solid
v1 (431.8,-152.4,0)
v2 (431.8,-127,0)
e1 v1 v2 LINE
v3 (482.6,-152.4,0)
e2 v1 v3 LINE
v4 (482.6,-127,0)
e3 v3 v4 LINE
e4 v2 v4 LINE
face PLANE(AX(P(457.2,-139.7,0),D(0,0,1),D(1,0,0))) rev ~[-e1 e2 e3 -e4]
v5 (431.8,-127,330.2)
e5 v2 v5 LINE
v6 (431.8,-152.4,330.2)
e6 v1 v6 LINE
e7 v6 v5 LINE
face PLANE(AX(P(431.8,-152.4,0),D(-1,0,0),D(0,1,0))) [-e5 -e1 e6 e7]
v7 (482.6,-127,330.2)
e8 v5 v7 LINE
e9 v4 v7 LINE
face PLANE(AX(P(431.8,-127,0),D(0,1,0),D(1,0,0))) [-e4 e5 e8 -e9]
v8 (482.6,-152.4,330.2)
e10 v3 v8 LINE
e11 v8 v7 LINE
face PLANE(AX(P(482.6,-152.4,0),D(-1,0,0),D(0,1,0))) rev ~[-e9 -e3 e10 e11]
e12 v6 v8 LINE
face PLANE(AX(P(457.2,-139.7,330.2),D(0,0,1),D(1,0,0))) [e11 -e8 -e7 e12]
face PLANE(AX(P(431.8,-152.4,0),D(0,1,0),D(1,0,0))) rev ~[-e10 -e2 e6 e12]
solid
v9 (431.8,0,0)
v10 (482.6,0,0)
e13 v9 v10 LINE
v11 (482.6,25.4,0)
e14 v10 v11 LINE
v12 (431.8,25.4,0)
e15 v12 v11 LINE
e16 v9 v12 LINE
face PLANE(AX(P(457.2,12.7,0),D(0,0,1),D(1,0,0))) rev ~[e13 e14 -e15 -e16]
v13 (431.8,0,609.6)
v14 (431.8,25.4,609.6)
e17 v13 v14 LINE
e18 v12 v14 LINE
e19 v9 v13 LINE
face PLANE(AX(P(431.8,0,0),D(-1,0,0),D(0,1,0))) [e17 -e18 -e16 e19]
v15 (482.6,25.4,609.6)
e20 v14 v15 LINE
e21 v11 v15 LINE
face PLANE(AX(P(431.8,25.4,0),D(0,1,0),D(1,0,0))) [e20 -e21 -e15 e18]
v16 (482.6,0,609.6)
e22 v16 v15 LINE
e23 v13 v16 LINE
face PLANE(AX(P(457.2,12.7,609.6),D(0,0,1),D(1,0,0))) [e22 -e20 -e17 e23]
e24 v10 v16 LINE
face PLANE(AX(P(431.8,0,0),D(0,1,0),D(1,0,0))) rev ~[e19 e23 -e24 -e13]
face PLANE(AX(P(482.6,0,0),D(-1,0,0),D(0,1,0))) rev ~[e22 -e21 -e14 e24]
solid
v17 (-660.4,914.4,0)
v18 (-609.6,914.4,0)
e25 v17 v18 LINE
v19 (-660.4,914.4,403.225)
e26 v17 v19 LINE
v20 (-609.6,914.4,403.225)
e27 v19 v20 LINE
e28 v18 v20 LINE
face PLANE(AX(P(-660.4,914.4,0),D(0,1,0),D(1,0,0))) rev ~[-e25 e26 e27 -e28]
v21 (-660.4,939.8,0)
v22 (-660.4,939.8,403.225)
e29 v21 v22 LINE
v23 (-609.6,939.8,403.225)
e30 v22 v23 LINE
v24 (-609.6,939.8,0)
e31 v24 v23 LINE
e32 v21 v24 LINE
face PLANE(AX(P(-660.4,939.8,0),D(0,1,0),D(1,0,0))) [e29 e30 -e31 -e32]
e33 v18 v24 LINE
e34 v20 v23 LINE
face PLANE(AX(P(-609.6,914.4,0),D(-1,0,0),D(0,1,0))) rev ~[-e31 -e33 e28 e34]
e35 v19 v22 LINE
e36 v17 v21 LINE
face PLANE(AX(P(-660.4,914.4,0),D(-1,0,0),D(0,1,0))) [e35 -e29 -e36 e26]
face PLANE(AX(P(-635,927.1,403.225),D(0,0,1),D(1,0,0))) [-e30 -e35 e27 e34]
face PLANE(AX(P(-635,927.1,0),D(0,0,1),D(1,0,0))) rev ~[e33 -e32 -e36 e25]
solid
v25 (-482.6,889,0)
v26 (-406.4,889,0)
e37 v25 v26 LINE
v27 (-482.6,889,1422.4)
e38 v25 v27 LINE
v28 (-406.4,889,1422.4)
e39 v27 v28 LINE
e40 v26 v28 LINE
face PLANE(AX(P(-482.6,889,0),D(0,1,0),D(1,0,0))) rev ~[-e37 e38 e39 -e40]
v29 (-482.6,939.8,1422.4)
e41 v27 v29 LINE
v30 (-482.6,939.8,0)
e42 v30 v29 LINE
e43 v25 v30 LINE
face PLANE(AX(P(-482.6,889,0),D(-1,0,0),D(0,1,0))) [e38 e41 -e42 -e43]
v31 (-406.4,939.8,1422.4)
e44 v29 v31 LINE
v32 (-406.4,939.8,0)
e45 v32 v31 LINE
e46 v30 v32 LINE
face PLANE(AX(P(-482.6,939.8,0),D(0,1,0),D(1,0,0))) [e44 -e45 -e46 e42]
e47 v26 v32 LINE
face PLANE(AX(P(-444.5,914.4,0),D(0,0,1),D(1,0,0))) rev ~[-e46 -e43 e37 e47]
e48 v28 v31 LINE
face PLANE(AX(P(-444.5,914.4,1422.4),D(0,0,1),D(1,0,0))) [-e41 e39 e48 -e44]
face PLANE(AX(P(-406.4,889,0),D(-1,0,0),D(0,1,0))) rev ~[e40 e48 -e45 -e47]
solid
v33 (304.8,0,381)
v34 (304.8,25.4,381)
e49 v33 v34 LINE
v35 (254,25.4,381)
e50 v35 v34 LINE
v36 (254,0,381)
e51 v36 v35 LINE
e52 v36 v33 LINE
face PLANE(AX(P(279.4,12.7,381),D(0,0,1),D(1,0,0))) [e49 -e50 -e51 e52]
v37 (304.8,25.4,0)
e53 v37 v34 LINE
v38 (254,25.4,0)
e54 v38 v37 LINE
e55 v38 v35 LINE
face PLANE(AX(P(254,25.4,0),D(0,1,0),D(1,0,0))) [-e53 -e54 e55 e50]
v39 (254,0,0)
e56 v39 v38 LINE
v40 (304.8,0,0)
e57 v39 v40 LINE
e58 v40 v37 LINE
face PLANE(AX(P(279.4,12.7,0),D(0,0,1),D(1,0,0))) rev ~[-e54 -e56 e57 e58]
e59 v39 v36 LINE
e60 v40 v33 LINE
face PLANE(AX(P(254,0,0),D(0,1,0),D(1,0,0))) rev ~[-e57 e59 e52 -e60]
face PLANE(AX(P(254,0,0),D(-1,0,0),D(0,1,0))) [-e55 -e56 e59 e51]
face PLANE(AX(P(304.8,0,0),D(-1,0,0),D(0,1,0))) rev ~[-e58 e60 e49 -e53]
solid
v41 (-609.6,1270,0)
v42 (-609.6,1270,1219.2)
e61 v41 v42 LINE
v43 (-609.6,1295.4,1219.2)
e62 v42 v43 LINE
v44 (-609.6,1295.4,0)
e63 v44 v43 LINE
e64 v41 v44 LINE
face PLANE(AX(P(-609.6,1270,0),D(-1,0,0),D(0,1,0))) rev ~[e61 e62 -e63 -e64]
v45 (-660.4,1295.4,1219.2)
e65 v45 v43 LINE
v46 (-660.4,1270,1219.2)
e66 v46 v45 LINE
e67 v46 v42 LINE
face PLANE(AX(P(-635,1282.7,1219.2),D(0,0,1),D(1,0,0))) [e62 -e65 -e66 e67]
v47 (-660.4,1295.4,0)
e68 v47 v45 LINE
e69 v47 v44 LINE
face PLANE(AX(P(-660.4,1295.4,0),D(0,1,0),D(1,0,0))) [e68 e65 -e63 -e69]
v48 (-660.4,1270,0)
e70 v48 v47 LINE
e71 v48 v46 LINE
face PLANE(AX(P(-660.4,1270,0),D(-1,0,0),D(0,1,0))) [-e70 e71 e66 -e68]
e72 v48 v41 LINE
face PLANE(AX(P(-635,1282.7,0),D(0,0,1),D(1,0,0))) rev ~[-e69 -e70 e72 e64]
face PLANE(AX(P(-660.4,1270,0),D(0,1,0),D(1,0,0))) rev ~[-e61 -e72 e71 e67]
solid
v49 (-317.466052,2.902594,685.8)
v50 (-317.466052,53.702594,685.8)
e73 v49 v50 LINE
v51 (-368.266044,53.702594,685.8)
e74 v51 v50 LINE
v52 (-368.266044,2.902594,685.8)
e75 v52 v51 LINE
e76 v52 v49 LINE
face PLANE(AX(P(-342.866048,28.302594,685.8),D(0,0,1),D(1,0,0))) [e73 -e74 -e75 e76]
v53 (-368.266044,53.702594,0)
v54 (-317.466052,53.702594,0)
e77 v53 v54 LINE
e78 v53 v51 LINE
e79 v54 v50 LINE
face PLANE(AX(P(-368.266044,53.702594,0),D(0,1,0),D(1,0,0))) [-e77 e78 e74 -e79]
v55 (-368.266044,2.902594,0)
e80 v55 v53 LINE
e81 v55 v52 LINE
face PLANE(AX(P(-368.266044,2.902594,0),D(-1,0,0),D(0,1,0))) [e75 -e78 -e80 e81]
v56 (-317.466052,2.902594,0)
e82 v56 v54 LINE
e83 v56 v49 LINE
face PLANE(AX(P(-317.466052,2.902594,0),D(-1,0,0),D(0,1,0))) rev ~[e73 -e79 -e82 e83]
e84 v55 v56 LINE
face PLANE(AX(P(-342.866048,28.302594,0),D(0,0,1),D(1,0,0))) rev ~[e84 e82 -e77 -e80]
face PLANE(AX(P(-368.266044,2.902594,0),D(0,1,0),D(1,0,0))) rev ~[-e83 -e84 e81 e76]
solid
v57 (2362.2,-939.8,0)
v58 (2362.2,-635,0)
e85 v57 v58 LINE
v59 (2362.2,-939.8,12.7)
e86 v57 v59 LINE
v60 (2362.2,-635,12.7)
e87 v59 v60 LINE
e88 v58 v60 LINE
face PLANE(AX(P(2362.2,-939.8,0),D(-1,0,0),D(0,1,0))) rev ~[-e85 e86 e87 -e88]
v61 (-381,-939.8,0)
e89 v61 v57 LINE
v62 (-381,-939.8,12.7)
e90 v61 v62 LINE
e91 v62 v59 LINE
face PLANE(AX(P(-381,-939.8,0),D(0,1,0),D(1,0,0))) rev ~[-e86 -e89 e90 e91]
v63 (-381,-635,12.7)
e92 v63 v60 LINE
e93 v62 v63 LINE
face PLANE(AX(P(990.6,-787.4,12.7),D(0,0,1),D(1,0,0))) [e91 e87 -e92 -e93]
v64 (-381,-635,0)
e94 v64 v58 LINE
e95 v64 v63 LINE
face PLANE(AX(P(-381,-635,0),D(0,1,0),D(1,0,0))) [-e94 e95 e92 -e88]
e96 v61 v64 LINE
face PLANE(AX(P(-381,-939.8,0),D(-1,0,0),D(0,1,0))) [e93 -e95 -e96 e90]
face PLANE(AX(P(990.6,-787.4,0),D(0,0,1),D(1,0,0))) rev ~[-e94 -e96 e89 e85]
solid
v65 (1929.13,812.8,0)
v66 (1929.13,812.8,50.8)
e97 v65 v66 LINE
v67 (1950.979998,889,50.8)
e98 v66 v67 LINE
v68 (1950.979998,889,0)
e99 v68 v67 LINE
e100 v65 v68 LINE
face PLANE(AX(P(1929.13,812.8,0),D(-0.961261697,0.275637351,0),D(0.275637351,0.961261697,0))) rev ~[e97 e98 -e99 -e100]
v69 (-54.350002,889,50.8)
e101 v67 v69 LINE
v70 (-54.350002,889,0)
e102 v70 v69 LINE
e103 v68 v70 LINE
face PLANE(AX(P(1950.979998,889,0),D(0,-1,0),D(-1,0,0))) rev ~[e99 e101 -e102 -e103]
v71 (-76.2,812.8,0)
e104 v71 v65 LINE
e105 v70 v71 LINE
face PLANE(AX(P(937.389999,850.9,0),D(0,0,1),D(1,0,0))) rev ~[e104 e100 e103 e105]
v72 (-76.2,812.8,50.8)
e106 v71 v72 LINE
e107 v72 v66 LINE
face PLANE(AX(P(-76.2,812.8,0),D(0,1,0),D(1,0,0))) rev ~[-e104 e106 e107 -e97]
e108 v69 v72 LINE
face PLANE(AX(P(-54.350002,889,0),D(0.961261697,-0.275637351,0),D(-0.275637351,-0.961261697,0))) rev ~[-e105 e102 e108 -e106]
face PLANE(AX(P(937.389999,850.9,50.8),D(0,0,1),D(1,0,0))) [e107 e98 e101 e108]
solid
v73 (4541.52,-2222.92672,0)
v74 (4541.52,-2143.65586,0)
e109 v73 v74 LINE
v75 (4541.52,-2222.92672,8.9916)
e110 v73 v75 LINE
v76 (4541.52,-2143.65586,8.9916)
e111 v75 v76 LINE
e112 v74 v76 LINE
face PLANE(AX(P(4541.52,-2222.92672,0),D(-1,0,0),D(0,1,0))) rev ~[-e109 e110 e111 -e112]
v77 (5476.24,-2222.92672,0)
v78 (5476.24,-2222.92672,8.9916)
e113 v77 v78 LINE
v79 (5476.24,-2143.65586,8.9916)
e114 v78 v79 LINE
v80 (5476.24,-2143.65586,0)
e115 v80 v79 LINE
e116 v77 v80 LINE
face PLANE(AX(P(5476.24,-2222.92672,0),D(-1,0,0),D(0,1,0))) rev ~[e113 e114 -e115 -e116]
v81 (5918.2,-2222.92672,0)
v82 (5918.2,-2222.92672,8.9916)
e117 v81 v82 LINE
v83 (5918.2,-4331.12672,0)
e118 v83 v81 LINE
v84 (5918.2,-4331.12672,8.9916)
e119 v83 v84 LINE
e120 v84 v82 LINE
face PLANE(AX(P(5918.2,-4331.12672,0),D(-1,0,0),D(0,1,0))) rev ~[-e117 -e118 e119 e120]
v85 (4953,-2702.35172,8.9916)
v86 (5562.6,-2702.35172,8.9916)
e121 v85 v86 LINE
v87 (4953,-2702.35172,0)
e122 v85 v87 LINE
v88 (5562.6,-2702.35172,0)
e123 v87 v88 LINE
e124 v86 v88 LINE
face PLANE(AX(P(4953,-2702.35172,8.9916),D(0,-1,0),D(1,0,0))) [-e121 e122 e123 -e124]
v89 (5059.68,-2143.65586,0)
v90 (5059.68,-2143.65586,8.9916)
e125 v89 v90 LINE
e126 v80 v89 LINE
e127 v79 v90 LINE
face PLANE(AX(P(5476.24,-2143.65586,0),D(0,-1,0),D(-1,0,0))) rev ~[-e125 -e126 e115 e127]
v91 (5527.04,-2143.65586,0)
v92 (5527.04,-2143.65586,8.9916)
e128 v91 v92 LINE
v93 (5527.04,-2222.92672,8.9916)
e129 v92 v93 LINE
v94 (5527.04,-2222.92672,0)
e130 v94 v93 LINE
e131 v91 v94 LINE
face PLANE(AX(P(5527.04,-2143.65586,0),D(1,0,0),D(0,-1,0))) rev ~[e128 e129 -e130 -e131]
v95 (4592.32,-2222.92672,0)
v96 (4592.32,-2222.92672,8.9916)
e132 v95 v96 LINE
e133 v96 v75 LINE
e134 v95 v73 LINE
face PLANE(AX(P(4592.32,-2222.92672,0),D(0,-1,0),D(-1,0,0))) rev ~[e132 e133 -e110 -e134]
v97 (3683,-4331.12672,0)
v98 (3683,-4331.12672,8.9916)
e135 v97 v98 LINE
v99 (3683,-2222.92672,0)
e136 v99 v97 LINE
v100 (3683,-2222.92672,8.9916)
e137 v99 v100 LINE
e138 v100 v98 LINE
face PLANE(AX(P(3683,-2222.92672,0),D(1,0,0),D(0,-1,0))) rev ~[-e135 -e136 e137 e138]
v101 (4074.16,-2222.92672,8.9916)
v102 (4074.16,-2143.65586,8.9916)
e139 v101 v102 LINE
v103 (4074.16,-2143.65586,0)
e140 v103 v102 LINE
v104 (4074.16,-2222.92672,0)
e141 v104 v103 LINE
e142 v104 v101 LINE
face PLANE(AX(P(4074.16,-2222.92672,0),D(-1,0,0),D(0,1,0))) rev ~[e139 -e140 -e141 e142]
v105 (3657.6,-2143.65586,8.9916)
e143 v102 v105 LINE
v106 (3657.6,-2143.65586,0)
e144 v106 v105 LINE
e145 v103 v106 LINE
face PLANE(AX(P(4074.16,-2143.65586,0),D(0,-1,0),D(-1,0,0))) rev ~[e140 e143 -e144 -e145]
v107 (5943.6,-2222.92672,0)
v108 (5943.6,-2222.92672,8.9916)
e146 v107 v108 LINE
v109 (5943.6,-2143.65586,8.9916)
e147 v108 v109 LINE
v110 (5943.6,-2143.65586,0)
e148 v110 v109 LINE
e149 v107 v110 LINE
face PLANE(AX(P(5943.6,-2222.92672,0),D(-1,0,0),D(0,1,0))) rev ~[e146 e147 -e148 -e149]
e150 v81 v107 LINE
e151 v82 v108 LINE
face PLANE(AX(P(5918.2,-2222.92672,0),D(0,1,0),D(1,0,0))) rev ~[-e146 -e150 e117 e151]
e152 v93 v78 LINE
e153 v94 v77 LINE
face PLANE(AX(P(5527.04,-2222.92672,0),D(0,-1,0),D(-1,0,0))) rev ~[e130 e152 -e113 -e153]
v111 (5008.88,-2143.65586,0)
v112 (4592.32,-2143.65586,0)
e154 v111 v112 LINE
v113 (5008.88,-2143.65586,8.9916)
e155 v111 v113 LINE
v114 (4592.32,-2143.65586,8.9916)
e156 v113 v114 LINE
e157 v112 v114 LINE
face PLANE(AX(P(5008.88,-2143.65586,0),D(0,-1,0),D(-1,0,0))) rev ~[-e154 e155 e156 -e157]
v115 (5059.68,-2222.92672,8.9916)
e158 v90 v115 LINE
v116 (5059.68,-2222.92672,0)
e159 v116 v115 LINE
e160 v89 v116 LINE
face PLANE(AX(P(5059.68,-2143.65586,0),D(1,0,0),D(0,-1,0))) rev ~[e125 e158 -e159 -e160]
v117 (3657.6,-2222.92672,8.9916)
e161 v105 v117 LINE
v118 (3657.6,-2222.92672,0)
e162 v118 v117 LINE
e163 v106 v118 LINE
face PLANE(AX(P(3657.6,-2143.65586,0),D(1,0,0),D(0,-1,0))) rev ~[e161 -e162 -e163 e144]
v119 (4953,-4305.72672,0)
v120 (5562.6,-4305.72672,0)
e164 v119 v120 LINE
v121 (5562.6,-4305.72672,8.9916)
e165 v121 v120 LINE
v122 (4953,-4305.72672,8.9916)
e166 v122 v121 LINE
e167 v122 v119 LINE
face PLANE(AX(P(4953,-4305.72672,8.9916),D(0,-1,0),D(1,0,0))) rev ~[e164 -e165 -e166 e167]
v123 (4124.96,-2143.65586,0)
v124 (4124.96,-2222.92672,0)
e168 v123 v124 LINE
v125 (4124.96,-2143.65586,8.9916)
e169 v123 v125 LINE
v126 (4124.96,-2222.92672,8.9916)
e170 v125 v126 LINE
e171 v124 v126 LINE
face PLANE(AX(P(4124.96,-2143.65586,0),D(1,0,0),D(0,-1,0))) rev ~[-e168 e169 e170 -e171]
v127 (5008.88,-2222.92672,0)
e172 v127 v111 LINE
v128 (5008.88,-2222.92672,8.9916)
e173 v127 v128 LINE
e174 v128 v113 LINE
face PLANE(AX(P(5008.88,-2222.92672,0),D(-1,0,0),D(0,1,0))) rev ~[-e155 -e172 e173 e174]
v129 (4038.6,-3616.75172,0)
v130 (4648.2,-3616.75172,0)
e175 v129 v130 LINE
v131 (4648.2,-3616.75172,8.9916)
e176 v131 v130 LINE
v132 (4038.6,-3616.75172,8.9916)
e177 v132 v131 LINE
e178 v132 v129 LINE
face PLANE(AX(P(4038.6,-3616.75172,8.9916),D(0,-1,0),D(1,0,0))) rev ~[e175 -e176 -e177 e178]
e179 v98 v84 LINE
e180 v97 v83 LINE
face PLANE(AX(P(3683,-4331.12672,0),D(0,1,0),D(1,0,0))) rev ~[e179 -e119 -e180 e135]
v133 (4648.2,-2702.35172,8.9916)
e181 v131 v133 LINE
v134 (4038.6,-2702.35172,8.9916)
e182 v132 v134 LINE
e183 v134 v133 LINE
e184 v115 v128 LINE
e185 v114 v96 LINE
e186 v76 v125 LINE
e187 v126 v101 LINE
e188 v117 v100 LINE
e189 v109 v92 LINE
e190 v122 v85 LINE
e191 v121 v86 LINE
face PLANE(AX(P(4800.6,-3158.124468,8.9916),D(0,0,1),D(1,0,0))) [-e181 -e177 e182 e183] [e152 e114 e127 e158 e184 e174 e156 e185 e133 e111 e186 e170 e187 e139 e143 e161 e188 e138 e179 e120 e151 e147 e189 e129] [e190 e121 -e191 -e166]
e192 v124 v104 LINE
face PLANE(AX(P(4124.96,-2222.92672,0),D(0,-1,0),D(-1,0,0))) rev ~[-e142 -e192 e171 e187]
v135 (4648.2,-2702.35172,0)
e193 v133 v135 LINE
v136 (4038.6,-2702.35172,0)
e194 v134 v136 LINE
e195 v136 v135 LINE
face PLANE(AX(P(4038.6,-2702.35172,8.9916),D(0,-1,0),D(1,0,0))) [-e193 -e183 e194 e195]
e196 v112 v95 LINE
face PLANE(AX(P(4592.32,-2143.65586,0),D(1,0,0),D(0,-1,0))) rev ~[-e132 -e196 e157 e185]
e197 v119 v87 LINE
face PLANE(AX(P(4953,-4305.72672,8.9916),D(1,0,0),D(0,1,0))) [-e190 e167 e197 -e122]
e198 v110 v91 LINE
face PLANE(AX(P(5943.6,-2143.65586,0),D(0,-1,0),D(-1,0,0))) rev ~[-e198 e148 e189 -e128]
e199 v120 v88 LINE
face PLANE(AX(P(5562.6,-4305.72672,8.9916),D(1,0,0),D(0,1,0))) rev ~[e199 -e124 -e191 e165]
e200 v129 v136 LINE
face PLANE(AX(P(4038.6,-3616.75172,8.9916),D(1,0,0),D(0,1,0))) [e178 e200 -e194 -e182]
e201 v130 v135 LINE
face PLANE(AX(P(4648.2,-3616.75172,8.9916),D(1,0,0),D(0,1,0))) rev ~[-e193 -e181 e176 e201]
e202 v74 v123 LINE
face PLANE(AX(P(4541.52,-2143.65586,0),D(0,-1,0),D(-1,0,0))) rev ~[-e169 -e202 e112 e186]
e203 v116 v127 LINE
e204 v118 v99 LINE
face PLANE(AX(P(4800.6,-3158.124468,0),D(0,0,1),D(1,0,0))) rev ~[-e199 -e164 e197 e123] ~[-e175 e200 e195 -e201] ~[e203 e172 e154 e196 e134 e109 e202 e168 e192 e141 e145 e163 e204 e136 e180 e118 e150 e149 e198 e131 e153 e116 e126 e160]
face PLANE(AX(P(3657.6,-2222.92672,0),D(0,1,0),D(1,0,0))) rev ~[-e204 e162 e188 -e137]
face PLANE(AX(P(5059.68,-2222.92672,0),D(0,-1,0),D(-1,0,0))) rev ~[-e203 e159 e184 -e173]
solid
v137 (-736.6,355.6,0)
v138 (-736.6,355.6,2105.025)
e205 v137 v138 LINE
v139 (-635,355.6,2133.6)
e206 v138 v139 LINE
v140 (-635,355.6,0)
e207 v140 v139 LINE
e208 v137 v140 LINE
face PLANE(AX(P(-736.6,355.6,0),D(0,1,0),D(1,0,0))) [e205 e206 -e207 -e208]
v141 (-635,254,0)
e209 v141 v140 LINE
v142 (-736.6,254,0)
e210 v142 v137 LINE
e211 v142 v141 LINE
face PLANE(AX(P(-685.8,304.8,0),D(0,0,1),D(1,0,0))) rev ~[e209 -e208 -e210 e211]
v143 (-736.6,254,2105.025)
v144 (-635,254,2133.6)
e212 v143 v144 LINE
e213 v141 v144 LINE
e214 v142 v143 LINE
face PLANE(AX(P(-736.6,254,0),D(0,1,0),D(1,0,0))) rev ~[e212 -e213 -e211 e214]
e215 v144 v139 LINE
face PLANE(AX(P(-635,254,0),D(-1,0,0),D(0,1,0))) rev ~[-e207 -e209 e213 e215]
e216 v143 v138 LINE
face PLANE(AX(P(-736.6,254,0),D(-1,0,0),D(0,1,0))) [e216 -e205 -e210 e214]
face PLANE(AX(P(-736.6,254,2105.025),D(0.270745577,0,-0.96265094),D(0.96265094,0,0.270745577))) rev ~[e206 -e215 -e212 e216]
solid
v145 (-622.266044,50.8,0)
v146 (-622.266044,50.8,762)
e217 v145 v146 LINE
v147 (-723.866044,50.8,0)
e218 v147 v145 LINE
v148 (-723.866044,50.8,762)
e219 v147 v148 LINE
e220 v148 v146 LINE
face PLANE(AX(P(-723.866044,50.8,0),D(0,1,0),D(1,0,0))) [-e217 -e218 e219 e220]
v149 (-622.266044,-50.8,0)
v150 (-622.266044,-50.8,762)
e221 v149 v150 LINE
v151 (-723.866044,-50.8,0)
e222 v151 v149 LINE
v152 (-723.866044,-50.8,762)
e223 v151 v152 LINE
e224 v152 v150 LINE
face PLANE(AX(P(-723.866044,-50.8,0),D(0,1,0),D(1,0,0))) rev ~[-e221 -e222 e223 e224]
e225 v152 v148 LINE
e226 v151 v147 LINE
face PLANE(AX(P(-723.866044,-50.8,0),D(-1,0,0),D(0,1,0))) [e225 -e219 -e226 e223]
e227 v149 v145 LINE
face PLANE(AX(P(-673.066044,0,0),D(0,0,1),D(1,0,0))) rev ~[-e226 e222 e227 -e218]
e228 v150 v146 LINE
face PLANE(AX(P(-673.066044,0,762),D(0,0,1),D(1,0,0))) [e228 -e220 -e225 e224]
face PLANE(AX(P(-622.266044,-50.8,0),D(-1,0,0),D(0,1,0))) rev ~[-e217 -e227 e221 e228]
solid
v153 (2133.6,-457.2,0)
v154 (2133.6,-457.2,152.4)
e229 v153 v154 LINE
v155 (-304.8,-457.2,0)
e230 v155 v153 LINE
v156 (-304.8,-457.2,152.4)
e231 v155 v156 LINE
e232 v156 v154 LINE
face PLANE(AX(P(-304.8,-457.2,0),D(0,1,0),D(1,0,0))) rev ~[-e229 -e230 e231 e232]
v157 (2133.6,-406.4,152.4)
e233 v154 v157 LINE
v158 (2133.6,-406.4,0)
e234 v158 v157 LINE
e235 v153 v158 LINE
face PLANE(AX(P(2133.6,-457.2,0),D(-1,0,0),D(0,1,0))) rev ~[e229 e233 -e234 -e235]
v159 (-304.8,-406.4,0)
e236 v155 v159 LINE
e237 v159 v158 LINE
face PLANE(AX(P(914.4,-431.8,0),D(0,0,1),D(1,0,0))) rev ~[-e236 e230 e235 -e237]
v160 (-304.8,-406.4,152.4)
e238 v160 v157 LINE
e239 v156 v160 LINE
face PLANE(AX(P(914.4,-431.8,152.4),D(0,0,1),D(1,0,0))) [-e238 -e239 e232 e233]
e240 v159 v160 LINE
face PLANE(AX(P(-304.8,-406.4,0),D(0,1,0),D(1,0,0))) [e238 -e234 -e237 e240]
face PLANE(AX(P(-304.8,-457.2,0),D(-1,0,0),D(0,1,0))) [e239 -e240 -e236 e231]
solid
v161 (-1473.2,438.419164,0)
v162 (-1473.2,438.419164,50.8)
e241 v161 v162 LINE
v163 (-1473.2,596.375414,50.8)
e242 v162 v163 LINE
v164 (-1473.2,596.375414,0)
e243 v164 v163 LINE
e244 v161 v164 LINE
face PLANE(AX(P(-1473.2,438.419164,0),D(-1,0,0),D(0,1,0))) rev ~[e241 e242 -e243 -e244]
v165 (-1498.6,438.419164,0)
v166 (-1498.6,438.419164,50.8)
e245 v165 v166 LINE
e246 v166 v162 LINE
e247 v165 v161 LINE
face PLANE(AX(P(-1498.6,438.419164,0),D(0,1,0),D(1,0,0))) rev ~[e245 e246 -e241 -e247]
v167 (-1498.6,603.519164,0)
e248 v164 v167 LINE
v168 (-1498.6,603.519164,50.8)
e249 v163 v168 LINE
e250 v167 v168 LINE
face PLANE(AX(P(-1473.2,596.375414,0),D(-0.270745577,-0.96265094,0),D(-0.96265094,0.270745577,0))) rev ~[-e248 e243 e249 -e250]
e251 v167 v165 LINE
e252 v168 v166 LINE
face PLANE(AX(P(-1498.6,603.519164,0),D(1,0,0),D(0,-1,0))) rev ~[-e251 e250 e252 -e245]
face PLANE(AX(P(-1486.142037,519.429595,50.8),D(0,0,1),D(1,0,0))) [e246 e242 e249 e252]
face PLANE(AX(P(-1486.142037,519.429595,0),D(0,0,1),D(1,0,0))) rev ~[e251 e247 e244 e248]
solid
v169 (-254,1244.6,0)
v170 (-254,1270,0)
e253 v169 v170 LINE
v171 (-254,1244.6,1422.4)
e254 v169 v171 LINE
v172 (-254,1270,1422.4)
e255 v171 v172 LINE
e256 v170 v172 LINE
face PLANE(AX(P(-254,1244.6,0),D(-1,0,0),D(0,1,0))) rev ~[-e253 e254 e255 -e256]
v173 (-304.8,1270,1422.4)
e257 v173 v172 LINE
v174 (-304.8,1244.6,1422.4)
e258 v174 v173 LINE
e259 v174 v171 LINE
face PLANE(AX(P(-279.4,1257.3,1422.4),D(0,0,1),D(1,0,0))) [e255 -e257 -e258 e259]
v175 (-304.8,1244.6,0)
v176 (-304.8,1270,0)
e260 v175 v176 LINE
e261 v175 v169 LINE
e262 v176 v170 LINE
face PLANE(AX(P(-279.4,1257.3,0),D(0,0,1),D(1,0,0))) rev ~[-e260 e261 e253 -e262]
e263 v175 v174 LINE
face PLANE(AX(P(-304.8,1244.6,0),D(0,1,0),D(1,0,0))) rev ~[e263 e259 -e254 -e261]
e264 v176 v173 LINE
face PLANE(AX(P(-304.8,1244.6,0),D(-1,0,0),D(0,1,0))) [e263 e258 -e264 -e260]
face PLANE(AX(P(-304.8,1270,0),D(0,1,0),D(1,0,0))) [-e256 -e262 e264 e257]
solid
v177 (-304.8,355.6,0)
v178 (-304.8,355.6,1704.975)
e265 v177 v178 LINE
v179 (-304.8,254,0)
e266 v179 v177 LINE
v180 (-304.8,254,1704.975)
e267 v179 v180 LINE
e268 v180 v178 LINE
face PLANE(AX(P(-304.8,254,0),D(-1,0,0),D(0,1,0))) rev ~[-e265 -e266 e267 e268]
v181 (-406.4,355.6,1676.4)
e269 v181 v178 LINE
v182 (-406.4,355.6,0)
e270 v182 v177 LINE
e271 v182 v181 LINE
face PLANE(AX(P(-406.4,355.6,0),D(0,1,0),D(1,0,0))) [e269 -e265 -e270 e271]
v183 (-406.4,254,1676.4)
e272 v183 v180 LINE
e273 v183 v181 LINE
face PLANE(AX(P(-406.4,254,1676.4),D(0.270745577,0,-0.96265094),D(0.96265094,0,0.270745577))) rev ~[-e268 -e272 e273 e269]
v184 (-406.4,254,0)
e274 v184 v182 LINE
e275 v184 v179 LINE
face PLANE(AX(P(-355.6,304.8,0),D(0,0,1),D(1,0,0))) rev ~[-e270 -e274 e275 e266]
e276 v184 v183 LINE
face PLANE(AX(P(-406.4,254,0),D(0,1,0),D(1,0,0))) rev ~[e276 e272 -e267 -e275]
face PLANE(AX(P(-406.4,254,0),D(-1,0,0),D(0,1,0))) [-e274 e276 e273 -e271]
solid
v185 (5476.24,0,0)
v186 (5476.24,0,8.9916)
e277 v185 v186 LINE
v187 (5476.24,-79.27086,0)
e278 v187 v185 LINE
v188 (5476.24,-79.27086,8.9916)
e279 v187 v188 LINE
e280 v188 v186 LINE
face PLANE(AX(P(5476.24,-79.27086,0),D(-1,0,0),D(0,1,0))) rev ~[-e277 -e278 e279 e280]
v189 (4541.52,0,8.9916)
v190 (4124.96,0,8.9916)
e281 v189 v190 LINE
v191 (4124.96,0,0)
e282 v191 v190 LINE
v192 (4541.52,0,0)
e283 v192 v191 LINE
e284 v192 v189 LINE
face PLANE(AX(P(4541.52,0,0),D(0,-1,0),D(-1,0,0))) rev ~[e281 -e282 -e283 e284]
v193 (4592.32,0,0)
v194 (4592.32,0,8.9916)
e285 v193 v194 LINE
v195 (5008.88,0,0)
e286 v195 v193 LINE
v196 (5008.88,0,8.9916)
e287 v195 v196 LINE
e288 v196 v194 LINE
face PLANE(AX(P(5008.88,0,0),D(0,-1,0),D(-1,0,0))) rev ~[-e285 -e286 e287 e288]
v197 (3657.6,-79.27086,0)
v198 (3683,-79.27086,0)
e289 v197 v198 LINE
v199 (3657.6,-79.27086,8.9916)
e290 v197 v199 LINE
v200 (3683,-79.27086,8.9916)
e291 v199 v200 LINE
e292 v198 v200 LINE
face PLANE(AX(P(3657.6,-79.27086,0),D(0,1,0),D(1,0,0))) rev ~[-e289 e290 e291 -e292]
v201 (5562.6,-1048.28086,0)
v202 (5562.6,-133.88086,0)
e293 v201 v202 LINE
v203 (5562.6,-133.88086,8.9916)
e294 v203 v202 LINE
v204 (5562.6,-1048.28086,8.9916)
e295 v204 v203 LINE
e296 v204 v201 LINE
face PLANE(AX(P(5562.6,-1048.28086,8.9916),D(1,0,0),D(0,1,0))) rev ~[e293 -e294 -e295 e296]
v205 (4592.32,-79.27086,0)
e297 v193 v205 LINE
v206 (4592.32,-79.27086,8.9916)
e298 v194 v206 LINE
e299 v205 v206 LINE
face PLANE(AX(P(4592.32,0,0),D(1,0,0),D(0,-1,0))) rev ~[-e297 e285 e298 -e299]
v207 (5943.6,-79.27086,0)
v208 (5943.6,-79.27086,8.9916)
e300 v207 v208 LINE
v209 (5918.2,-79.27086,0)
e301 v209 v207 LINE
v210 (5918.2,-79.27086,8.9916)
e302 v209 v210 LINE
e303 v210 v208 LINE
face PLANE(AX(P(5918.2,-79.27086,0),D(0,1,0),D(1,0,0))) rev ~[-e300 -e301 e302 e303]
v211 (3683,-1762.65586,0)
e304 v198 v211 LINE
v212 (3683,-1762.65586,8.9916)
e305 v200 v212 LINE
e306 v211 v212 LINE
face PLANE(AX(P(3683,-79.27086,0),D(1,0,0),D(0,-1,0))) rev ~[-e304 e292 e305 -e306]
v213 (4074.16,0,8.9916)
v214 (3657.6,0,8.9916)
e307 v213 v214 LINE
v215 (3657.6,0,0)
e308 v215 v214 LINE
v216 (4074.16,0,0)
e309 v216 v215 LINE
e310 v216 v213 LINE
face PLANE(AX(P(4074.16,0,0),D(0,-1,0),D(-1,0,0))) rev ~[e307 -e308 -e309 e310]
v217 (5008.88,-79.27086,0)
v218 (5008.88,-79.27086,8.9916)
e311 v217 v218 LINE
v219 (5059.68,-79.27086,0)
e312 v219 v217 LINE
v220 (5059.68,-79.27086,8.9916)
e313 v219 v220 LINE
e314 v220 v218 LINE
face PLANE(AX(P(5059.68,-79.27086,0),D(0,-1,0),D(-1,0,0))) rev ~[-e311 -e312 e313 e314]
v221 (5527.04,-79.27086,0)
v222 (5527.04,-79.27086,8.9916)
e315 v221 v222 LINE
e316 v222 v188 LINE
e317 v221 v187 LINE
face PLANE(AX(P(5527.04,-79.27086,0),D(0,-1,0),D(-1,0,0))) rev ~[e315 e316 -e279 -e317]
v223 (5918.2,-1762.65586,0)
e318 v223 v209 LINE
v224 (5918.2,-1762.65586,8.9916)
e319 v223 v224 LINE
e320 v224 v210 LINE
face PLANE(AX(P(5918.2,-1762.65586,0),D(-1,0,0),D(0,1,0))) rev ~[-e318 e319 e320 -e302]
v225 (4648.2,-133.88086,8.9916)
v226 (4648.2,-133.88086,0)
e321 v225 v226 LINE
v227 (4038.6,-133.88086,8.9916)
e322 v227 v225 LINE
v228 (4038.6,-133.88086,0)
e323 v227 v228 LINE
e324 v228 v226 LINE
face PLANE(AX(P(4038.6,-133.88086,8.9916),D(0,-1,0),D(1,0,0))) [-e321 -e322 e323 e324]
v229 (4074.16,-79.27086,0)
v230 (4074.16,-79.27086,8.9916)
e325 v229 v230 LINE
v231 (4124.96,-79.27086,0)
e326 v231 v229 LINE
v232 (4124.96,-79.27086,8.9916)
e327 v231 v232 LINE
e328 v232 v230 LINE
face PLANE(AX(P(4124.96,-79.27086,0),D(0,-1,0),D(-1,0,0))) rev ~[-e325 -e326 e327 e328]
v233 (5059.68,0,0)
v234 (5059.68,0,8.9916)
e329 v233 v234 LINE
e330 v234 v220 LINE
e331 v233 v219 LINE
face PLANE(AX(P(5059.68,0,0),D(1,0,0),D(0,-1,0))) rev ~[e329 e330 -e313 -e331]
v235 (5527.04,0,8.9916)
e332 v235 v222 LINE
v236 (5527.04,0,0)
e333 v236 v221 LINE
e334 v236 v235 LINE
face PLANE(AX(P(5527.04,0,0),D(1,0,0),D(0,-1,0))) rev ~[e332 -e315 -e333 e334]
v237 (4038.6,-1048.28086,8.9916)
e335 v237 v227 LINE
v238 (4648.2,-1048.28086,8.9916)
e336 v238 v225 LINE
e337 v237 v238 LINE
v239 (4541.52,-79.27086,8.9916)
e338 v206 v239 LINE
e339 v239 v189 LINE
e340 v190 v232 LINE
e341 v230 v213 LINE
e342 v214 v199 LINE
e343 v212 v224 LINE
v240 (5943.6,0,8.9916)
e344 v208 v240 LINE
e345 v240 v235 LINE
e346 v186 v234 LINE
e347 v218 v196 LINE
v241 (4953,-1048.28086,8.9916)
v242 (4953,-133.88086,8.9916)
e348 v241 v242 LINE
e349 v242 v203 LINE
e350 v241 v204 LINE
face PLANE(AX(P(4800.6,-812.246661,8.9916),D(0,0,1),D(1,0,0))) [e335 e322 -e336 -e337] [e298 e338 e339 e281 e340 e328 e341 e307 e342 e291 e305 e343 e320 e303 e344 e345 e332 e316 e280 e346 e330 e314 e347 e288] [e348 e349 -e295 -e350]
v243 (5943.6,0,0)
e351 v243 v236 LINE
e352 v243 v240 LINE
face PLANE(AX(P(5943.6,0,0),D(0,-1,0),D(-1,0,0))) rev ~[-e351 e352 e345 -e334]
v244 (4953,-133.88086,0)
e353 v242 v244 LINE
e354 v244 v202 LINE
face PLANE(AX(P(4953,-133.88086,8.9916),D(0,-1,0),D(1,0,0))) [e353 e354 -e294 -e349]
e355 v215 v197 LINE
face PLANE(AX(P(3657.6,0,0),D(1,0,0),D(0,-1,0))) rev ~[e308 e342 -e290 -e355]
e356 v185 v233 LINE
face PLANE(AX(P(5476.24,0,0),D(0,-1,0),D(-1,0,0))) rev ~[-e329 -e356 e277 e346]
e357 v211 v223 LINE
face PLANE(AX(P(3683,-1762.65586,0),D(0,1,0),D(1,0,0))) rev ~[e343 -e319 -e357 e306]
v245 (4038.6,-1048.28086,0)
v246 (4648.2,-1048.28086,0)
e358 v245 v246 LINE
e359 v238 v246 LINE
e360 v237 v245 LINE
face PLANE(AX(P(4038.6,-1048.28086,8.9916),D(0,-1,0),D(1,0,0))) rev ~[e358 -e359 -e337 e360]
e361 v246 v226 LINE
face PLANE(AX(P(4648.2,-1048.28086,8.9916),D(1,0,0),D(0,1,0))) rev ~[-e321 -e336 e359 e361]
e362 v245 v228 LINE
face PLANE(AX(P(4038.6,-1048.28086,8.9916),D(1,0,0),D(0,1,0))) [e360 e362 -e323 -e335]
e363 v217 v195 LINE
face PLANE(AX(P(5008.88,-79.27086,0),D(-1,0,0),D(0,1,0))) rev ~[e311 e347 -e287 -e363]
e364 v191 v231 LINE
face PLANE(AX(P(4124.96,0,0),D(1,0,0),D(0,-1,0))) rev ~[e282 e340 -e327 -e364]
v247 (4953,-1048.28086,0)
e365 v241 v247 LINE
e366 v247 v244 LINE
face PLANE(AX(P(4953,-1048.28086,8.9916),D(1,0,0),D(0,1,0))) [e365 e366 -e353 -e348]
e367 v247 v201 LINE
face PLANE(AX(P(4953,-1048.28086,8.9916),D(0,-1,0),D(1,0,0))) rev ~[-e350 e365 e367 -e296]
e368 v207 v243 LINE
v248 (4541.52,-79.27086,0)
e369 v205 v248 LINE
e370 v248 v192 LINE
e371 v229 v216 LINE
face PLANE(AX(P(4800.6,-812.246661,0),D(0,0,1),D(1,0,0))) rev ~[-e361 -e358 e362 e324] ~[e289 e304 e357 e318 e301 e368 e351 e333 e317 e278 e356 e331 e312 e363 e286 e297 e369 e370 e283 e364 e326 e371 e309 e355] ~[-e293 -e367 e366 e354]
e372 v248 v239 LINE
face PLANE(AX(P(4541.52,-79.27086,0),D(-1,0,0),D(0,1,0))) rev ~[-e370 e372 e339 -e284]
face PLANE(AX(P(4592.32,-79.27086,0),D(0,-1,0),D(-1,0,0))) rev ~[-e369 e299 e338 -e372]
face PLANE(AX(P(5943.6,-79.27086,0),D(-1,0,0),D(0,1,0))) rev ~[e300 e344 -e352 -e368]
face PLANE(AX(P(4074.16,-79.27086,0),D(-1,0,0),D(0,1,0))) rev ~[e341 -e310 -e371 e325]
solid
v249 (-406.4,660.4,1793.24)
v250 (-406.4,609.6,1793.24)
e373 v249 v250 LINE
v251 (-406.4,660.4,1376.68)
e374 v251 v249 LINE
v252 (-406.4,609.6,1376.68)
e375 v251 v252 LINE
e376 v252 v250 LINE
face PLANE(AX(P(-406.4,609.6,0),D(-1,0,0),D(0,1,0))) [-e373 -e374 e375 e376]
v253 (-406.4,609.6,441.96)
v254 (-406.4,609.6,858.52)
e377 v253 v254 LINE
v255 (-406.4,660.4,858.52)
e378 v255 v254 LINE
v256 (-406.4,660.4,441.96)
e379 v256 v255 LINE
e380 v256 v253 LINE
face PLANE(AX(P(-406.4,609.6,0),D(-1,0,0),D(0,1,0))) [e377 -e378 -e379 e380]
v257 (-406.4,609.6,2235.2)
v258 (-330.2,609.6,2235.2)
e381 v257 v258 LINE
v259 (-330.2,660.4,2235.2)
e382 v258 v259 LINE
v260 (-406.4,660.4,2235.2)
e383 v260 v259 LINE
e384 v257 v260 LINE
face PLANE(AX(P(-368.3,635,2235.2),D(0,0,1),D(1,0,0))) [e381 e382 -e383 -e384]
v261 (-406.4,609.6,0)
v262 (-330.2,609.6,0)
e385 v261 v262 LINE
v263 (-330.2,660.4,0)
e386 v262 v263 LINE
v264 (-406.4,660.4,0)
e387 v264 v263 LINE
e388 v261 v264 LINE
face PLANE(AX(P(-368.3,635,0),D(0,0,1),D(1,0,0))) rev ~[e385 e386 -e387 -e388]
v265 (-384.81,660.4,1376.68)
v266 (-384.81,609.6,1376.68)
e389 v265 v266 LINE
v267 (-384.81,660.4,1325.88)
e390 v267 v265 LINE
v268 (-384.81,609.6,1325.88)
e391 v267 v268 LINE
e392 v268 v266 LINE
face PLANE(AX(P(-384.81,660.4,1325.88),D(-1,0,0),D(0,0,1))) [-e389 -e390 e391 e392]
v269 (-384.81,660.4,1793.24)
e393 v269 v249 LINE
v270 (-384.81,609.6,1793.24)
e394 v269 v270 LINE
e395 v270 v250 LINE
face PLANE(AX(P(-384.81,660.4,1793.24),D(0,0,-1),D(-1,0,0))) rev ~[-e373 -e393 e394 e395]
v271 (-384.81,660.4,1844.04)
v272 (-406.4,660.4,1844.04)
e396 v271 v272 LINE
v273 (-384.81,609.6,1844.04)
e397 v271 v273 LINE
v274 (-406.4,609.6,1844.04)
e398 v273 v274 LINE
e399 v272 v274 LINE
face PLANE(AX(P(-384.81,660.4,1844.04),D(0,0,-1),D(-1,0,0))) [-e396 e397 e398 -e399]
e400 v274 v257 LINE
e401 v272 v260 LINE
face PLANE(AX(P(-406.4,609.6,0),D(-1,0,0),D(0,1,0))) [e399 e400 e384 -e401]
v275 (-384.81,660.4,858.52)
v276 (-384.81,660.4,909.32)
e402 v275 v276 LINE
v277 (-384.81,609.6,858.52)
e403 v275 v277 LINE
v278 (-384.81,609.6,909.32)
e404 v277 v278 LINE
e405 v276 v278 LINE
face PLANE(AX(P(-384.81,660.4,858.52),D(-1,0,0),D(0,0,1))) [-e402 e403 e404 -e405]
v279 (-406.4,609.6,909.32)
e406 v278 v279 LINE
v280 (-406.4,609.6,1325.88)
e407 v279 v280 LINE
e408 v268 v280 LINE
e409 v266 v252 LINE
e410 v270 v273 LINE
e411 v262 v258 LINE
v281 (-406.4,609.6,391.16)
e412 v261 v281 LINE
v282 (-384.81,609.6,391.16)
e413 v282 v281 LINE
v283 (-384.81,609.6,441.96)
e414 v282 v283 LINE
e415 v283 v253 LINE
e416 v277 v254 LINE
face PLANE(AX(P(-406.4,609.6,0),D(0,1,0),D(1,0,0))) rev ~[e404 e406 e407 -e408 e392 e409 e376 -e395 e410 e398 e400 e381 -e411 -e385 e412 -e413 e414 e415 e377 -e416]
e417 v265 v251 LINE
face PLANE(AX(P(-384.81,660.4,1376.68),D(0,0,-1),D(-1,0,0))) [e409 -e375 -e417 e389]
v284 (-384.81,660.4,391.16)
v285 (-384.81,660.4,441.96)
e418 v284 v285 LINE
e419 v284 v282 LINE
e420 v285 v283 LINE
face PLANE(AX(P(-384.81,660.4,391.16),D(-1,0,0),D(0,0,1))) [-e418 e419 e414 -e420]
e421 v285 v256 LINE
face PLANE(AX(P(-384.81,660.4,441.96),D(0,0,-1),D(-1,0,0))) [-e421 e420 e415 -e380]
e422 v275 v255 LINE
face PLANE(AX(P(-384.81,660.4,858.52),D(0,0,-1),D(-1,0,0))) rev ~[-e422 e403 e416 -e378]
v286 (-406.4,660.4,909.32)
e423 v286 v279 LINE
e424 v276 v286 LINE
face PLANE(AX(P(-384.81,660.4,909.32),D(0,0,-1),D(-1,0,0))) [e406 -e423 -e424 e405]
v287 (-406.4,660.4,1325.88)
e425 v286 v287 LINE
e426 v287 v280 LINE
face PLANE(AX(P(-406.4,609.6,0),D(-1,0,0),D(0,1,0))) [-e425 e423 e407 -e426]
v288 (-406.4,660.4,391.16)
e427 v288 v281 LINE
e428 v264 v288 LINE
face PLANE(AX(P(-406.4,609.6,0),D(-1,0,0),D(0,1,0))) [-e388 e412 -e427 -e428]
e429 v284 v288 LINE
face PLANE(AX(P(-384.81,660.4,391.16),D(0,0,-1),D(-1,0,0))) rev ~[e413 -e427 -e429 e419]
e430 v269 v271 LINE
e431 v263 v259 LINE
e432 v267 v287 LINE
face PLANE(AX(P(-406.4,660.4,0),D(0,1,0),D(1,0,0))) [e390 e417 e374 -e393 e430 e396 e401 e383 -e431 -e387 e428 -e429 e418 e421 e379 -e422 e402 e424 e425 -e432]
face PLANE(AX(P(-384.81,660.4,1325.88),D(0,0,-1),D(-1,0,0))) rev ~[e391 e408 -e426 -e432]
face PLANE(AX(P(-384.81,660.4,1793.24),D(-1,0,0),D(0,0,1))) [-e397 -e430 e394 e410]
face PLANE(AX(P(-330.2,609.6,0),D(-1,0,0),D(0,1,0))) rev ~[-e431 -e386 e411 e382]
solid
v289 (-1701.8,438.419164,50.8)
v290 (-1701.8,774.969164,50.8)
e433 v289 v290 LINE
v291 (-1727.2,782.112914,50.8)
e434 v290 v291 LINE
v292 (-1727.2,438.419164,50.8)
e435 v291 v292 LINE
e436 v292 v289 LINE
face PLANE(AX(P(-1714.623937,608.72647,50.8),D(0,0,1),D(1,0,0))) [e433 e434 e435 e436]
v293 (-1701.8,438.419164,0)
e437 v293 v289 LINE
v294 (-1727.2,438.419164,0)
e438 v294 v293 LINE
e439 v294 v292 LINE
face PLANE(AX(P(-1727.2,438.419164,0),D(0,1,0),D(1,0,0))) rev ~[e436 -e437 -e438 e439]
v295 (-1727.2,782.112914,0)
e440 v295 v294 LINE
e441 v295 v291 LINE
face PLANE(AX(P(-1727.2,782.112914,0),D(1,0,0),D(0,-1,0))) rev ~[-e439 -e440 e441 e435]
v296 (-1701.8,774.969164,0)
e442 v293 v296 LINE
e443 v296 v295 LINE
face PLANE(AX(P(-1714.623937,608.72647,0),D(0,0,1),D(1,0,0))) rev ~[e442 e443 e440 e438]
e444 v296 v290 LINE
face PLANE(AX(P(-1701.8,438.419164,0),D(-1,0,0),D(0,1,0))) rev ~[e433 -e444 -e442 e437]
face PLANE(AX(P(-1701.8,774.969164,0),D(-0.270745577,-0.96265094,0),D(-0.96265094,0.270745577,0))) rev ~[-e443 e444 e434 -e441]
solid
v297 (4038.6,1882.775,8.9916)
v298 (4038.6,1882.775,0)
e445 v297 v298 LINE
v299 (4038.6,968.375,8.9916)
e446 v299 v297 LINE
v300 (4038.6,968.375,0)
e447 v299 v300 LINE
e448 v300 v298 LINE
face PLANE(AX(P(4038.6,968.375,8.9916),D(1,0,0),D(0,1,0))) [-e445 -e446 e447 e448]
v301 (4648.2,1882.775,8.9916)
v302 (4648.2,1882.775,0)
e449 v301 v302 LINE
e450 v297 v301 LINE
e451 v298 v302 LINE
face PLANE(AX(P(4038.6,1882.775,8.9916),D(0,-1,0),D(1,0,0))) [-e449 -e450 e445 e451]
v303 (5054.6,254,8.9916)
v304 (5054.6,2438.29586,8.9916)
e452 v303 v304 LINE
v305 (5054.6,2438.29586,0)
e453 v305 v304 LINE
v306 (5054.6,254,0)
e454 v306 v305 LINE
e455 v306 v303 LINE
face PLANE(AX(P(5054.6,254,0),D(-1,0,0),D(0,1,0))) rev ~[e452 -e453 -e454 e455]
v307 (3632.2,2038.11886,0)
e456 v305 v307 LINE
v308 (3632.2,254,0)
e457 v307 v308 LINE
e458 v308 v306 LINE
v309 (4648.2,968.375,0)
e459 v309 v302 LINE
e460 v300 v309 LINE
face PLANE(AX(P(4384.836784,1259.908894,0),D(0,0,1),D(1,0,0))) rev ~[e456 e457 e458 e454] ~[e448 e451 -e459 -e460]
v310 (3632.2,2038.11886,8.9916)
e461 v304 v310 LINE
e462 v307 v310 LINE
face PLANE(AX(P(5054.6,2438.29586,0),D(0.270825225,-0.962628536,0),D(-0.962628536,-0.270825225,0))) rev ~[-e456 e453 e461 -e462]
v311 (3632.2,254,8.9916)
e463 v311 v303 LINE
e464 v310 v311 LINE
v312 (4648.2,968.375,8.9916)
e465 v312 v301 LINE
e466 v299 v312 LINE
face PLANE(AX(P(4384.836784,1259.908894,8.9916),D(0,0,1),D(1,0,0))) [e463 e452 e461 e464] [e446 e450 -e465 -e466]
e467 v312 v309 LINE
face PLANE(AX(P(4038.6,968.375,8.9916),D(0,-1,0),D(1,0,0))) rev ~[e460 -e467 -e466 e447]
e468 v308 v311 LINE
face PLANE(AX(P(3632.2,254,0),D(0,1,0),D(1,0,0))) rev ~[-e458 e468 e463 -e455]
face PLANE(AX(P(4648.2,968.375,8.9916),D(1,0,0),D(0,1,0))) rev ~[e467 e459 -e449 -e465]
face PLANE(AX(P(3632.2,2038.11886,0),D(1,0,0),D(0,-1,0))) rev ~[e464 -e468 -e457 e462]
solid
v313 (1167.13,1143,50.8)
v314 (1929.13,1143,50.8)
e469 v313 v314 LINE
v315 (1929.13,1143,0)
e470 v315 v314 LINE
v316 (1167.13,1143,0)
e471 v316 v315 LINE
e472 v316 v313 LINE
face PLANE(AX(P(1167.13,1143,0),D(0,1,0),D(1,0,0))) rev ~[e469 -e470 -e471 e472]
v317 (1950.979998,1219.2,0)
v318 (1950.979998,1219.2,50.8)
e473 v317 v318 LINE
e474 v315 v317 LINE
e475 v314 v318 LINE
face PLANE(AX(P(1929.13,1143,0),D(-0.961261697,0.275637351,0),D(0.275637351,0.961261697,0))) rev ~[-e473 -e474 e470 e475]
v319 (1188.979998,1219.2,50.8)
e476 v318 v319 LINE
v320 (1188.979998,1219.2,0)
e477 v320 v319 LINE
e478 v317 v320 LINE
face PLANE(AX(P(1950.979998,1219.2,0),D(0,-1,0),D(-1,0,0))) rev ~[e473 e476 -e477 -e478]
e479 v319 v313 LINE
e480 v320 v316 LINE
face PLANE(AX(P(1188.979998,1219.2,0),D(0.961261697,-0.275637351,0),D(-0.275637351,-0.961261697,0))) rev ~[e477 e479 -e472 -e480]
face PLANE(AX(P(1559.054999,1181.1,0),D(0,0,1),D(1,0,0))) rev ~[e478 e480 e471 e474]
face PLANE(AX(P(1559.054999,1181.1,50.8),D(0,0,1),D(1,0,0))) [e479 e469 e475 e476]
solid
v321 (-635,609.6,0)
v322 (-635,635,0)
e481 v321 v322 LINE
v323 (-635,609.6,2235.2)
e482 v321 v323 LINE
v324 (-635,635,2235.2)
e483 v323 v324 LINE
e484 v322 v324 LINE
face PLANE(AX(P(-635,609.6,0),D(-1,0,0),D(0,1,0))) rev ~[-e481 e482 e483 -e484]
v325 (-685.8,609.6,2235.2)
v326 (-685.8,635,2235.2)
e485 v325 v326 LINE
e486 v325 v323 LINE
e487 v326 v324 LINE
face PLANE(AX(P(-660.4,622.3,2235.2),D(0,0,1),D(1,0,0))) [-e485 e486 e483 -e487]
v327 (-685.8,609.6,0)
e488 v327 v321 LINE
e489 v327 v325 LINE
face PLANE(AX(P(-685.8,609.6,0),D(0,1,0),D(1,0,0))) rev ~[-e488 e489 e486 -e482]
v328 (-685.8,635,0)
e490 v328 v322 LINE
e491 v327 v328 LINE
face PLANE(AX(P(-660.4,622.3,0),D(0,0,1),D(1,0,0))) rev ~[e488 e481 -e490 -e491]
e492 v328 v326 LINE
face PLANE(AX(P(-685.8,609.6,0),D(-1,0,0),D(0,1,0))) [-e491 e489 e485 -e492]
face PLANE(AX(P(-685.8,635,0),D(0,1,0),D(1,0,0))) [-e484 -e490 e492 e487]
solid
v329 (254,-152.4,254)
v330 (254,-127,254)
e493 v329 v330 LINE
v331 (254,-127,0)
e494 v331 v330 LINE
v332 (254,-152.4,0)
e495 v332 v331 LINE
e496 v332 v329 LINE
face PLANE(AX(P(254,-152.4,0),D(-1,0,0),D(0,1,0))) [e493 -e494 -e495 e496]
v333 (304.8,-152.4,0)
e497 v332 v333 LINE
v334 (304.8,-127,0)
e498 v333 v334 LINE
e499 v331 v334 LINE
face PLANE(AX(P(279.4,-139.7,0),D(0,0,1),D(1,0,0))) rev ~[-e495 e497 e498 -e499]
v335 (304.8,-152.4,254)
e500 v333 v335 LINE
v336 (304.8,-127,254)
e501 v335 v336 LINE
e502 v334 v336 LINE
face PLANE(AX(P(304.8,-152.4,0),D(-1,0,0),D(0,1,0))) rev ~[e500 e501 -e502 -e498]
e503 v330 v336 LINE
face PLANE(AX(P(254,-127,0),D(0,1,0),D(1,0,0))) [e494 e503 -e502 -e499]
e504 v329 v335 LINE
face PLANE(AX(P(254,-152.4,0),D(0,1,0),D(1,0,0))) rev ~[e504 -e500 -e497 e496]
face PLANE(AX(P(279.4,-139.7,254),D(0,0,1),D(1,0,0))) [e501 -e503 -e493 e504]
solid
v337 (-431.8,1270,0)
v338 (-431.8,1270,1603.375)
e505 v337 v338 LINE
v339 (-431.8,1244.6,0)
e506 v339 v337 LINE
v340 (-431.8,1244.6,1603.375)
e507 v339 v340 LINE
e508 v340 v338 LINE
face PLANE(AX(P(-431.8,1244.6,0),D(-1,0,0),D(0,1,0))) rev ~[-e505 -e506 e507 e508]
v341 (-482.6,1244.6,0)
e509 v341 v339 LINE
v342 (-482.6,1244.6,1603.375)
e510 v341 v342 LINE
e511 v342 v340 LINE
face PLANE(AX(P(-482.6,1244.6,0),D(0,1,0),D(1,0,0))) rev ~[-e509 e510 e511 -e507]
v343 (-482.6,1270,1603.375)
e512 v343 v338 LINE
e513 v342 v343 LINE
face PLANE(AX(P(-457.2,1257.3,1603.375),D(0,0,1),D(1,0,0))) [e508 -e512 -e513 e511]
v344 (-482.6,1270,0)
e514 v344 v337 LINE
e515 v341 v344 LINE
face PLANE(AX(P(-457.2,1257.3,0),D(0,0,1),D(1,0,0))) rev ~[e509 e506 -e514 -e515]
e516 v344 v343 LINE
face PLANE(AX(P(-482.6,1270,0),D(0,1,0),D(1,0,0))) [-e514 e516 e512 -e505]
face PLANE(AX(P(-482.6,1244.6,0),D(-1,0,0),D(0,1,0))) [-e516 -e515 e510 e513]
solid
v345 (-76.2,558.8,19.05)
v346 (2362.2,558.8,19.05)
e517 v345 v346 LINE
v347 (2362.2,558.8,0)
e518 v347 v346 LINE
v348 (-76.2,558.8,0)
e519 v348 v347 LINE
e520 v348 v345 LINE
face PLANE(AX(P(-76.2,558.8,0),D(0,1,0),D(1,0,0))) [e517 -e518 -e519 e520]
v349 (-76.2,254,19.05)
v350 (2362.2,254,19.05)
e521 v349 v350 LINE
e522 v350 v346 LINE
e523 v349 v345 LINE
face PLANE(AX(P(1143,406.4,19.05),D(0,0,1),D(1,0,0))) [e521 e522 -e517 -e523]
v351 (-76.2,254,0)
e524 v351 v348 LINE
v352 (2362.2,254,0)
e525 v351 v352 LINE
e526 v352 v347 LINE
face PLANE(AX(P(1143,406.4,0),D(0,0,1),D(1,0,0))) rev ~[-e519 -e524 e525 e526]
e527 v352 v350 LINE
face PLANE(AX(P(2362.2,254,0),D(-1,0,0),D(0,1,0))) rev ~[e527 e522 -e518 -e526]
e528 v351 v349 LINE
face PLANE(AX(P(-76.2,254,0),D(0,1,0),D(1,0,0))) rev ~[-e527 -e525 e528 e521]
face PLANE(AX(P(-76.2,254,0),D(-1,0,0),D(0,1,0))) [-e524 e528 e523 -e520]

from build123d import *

# Parameters (mm, degrees)
F1_DEPTH  = 152.4
F2_W      = 101.6
F2_H      = 101.6
F3_DEPTH  = 2133.6
F5_DEPTH  = 101.6
F6_W      = 101.6
F6_H      = 101.6
F7_DEPTH  = 1704.975
F9_DEPTH  = 101.6
F10_W     = 2438.4
F10_H     = 304.8
F11_DEPTH = 19.05
F13_DEPTH = 50.8
F14_W     = 76.2
F14_H     = 50.8
F15_DEPTH = 2235.2
F16_W     = 76.2
F16_H     = 50.8
F17_DEPTH = 1422.4
F18_W     = 21.59
F18_H     = 50.8
F19_DEPTH = 50.8
F20_W     = 50.8
F20_H     = 25.4
F21_DEPTH = 2235.2
F22_W     = 50.8
F22_H     = 25.4
F23_DEPTH = 1628.775
F24_W     = 50.8
F24_H     = 25.4
F25_DEPTH = 1219.2
F26_W     = 50.8
F26_H     = 25.4
F27_DEPTH = 1603.375
F28_W     = 50.8
F28_H     = 25.4
F29_DEPTH = 1422.4
F31_DEPTH = 50.8
F32_W     = 2438.4
F32_H     = 50.8
F33_DEPTH = 152.4
F36_W     = 50.8
F36_H     = 25.4
F37_DEPTH = 381
F38_W     = 50.8
F38_H     = 25.4
F39_DEPTH = 609.6
F40_W     = 50.8
F40_H     = 25.4
F41_DEPTH = 254
F42_W     = 50.8
F42_H     = 25.4
F43_DEPTH = 330.2
F44_W     = 2743.2
F44_H     = 304.8
F45_DEPTH = 12.7
F47_DEPTH = 8.9916
F48_W     = 609.6
F48_H     = 914.4
F49_DEPTH = 8.9916
F50_W     = 50.8
F50_H     = 25.4
F51_DEPTH = 403.225
F53_DEPTH = 50.8
F54_DEPTH = 50.8
F56_DEPTH = 8.9916
F57_W     = 609.6
F57_H     = 914.4
F58_DEPTH = 8.9916
F60_DEPTH = 8.9916
F61_W     = 609.6
F61_H     = 914.4
F61_H_2   = 1603.375
F62_DEPTH = 8.9916
F63_W     = 50.799991
F63_H     = 50.8
F64_DEPTH = 685.8
F65_W     = 101.6
F65_H     = 101.6
F66_DEPTH = 762


with BuildPart() as f1:
    # F0 (on Front) → F1 (new body)
    with BuildSketch(Plane.XZ):
        Polygon((-304.8, 152.4), (0, 0), (1828.8, 0), (2133.6, 152.4), (2133.6, 203.2), (-304.8, 203.2), align=None)
    extrude(amount=F1_DEPTH)


with BuildPart() as f3:
    # F2 (on Top) → F3 (new body)
    with BuildSketch(Plane.XY):
        with Locations((-685.8, 304.8)):
            Rectangle(F2_W, F2_H)
    extrude(amount=F3_DEPTH)

    # F4 (on face) → F5 (cut, through all)
    with BuildSketch(Plane.XZ.offset(-254)):
        Polygon((-635, 2133.6), (-736.6, 2133.6), (-736.6, 2105.025), align=None)
    extrude(amount=-F5_DEPTH, mode=Mode.SUBTRACT)


with BuildPart() as f7:
    # F6 (on Top) → F7 (new body)
    with BuildSketch(Plane.XY):
        with Locations((-355.6, 304.8)):
            Rectangle(F6_W, F6_H)
    extrude(amount=F7_DEPTH)

    # F8 (on face) → F9 (cut, through all)
    with BuildSketch(Plane.XZ.offset(-254)):
        Polygon((-304.8, 1704.975), (-406.4, 1704.975), (-406.4, 1676.4), align=None)
    extrude(amount=-F9_DEPTH, mode=Mode.SUBTRACT)


with BuildPart() as f11:
    # F10 (on Top) → F11 (new body)
    with BuildSketch(Plane.XY):
        with Locations((1143, 406.4)):
            Rectangle(F10_W, F10_H)
    extrude(amount=F11_DEPTH)


with BuildPart() as f13:
    # F12 (on Top) → F13 (new body)
    with BuildSketch(Plane.XY):
        Polygon((-54.350002, 889), (-76.2, 812.8), (1929.13, 812.8), (1950.979998, 889), align=None)
    extrude(amount=F13_DEPTH)


with BuildPart() as f15:
    # F14 (on Top) → F15 (new body)
    with BuildSketch(Plane.XY):
        with Locations((-368.3, 635)):
            Rectangle(F14_W, F14_H)
    extrude(amount=F15_DEPTH)

    # F18 (on face) → F19 (cut, through all)
    with BuildSketch(Plane(origin=(0, 660.4, 0), x_dir=(-1, 0, 0), z_dir=(0, 1, 0))):
        with Locations((395.605, 1818.64)):
            Rectangle(F18_W, F18_H)
        with Locations((395.605, 1351.28)):
            Rectangle(F18_W, F18_H)
        with Locations((395.605, 883.92)):
            Rectangle(F18_W, F18_H)
        with Locations((395.605, 416.56)):
            Rectangle(F18_W, F18_H)
    extrude(amount=-F19_DEPTH, mode=Mode.SUBTRACT)


with BuildPart() as f17:
    # F16 (on Top) → F17 (new body)
    with BuildSketch(Plane.XY):
        with Locations((-444.5, 914.4)):
            Rectangle(F16_W, F16_H)
    extrude(amount=F17_DEPTH)


with BuildPart() as f21:
    # F20 (on Top) → F21 (new body)
    with BuildSketch(Plane.XY):
        with Locations((-660.4, 622.3)):
            Rectangle(F20_W, F20_H)
    extrude(amount=F21_DEPTH)


with BuildPart() as f23:
    # F22 (on Top) → F23 (new body)
    with BuildSketch(Plane.XY):
        with Locations((-635, 876.3)):
            Rectangle(F22_W, F22_H)
    extrude(amount=F23_DEPTH)


with BuildPart() as f25:
    # F24 (on Top) → F25 (new body)
    with BuildSketch(Plane.XY):
        with Locations((-635, 1282.7)):
            Rectangle(F24_W, F24_H)
    extrude(amount=F25_DEPTH)


with BuildPart() as f27:
    # F26 (on Top) → F27 (new body)
    with BuildSketch(Plane.XY):
        with Locations((-457.2, 1257.3)):
            Rectangle(F26_W, F26_H)
    extrude(amount=F27_DEPTH)


with BuildPart() as f29:
    # F28 (on Top) → F29 (new body)
    with BuildSketch(Plane.XY):
        with Locations((-279.4, 1257.3)):
            Rectangle(F28_W, F28_H)
    extrude(amount=F29_DEPTH)


with BuildPart() as f31:
    # F30 (on Top) → F31 (new body)
    with BuildSketch(Plane.XY):
        Polygon((1929.13, 1143), (1950.979998, 1219.2), (1188.979998, 1219.2), (1167.13, 1143), align=None)
    extrude(amount=F31_DEPTH)


with BuildPart() as f33:
    # F32 (on Top) → F33 (new body)
    with BuildSketch(Plane.XY):
        with Locations((914.4, -431.8)):
            Rectangle(F32_W, F32_H)
    extrude(amount=F33_DEPTH)


with BuildPart() as f37:
    # F36 (on Top) → F37 (new body)
    with BuildSketch(Plane.XY):
        with Locations((279.4, 12.7)):
            Rectangle(F36_W, F36_H)
    extrude(amount=F37_DEPTH)


with BuildPart() as f39:
    # F38 (on Top) → F39 (new body)
    with BuildSketch(Plane.XY):
        with Locations((457.2, 12.7)):
            Rectangle(F38_W, F38_H)
    extrude(amount=F39_DEPTH)


with BuildPart() as f41:
    # F40 (on Top) → F41 (new body)
    with BuildSketch(Plane.XY):
        with Locations((279.4, -139.7)):
            Rectangle(F40_W, F40_H)
    extrude(amount=F41_DEPTH)


with BuildPart() as f43:
    # F42 (on Top) → F43 (new body)
    with BuildSketch(Plane.XY):
        with Locations((457.2, -139.7)):
            Rectangle(F42_W, F42_H)
    extrude(amount=F43_DEPTH)


with BuildPart() as f45:
    # F44 (on Top) → F45 (new body)
    with BuildSketch(Plane.XY):
        with Locations((990.6, -787.4)):
            Rectangle(F44_W, F44_H)
    extrude(amount=F45_DEPTH)


with BuildPart() as f47:
    # F46 (on Top) → F47 (new body)
    with BuildSketch(Plane.XY):
        Polygon((3632.2, 2038.11886), (3632.2, 254), (5054.6, 254), (5054.6, 2438.29586), align=None)
    extrude(amount=F47_DEPTH)

    # F48 (on face) → F49 (cut, through all)
    with BuildSketch(Plane.XY.offset(8.9916)):
        with Locations((4343.4, 1425.575)):
            Rectangle(F48_W, F48_H)
    extrude(amount=-F49_DEPTH, mode=Mode.SUBTRACT)


with BuildPart() as f51:
    # F50 (on Top) → F51 (new body)
    with BuildSketch(Plane.XY):
        with Locations((-635, 927.1)):
            Rectangle(F50_W, F50_H)
    extrude(amount=F51_DEPTH)


with BuildPart() as f53:
    # F52 (on Top) → F53 (new body)
    with BuildSketch(Plane.XY):
        Polygon((-1701.8, 774.969164), (-1727.2, 782.112914), (-1727.2, 438.419164), (-1701.8, 438.419164), align=None)
    extrude(amount=F53_DEPTH)

    # F52 (on Top) → F54 (join)
    with BuildSketch(Plane.XY):
        Polygon((-1701.8, 774.969164), (-1727.2, 782.112914), (-1727.2, 438.419164), (-1701.8, 438.419164), align=None)
        Polygon((-1498.6, 603.519164), (-1498.6, 438.419164), (-1473.2, 438.419164), (-1473.2, 596.375414), align=None)
    extrude(amount=F54_DEPTH)


with BuildPart() as f56:
    # F55 (on Top) → F56 (new body)
    with BuildSketch(Plane.XY):
        Polygon((4074.16, 0), (3657.6, 0), (3657.6, -79.27086), (3683, -79.27086), (3683, -1762.65586), (5918.2, -1762.65586), (5918.2, -79.27086), (5943.6, -79.27086), (5943.6, 0), (5527.04, 0), (5527.04, -79.27086), (5476.24, -79.27086), (5476.24, 0), (5059.68, 0), (5059.68, -79.27086), (5008.88, -79.27086), (5008.88, 0), (4592.32, 0), (4592.32, -79.27086), (4541.52, -79.27086), (4541.52, 0), (4124.96, 0), (4124.96, -79.27086), (4074.16, -79.27086), align=None)
    extrude(amount=F56_DEPTH)

    # F57 (on face) → F58 (cut, through all)
    with BuildSketch(Plane.XY.offset(8.9916)):
        with Locations((4343.4, -591.08086)):
            Rectangle(F57_W, F57_H)
        with Locations((5257.8, -591.08086)):
            Rectangle(F57_W, F57_H)
    extrude(amount=-F58_DEPTH, mode=Mode.SUBTRACT)


with BuildPart() as f60:
    # F59 (on Top) → F60 (new body)
    with BuildSketch(Plane.XY):
        Polygon((4074.16, -2143.65586), (3657.6, -2143.65586), (3657.6, -2222.92672), (3683, -2222.92672), (3683, -4331.12672), (5918.2, -4331.12672), (5918.2, -2222.92672), (5943.6, -2222.92672), (5943.6, -2143.65586), (5527.04, -2143.65586), (5527.04, -2222.92672), (5476.24, -2222.92672), (5476.24, -2143.65586), (5059.68, -2143.65586), (5059.68, -2222.92672), (5008.88, -2222.92672), (5008.88, -2143.65586), (4592.32, -2143.65586), (4592.32, -2222.92672), (4541.52, -2222.92672), (4541.52, -2143.65586), (4124.96, -2143.65586), (4124.96, -2222.92672), (4074.16, -2222.92672), align=None)
    extrude(amount=F60_DEPTH)

    # F61 (on face) → F62 (cut, through all)
    with BuildSketch(Plane.XY.offset(8.9916)):
        with Locations((4343.4, -3159.55172)):
            Rectangle(F61_W, F61_H)
        with Locations((5257.8, -3504.03922)):
            Rectangle(F61_W, F61_H_2)
    extrude(amount=-F62_DEPTH, mode=Mode.SUBTRACT)


with BuildPart() as f64:
    # F63 (on Top) → F64 (new body)
    with BuildSketch(Plane.XY):
        with Locations((-342.866048, 28.302594)):
            Rectangle(F63_W, F63_H)
    extrude(amount=F64_DEPTH)


with BuildPart() as f66:
    # F65 (on Top) → F66 (new body)
    with BuildSketch(Plane.XY):
        with Locations((-673.066044, 0)):
            Rectangle(F65_W, F65_H)
    extrude(amount=F66_DEPTH)


solid = Compound([f3.part, f7.part, f11.part, f13.part, f15.part, f17.part, f21.part, f25.part, f27.part, f29.part, f31.part, f33.part, f37.part, f39.part, f41.part, f43.part, f45.part, f47.part, f51.part, f53.part, f56.part, f60.part, f64.part, f66.part])
